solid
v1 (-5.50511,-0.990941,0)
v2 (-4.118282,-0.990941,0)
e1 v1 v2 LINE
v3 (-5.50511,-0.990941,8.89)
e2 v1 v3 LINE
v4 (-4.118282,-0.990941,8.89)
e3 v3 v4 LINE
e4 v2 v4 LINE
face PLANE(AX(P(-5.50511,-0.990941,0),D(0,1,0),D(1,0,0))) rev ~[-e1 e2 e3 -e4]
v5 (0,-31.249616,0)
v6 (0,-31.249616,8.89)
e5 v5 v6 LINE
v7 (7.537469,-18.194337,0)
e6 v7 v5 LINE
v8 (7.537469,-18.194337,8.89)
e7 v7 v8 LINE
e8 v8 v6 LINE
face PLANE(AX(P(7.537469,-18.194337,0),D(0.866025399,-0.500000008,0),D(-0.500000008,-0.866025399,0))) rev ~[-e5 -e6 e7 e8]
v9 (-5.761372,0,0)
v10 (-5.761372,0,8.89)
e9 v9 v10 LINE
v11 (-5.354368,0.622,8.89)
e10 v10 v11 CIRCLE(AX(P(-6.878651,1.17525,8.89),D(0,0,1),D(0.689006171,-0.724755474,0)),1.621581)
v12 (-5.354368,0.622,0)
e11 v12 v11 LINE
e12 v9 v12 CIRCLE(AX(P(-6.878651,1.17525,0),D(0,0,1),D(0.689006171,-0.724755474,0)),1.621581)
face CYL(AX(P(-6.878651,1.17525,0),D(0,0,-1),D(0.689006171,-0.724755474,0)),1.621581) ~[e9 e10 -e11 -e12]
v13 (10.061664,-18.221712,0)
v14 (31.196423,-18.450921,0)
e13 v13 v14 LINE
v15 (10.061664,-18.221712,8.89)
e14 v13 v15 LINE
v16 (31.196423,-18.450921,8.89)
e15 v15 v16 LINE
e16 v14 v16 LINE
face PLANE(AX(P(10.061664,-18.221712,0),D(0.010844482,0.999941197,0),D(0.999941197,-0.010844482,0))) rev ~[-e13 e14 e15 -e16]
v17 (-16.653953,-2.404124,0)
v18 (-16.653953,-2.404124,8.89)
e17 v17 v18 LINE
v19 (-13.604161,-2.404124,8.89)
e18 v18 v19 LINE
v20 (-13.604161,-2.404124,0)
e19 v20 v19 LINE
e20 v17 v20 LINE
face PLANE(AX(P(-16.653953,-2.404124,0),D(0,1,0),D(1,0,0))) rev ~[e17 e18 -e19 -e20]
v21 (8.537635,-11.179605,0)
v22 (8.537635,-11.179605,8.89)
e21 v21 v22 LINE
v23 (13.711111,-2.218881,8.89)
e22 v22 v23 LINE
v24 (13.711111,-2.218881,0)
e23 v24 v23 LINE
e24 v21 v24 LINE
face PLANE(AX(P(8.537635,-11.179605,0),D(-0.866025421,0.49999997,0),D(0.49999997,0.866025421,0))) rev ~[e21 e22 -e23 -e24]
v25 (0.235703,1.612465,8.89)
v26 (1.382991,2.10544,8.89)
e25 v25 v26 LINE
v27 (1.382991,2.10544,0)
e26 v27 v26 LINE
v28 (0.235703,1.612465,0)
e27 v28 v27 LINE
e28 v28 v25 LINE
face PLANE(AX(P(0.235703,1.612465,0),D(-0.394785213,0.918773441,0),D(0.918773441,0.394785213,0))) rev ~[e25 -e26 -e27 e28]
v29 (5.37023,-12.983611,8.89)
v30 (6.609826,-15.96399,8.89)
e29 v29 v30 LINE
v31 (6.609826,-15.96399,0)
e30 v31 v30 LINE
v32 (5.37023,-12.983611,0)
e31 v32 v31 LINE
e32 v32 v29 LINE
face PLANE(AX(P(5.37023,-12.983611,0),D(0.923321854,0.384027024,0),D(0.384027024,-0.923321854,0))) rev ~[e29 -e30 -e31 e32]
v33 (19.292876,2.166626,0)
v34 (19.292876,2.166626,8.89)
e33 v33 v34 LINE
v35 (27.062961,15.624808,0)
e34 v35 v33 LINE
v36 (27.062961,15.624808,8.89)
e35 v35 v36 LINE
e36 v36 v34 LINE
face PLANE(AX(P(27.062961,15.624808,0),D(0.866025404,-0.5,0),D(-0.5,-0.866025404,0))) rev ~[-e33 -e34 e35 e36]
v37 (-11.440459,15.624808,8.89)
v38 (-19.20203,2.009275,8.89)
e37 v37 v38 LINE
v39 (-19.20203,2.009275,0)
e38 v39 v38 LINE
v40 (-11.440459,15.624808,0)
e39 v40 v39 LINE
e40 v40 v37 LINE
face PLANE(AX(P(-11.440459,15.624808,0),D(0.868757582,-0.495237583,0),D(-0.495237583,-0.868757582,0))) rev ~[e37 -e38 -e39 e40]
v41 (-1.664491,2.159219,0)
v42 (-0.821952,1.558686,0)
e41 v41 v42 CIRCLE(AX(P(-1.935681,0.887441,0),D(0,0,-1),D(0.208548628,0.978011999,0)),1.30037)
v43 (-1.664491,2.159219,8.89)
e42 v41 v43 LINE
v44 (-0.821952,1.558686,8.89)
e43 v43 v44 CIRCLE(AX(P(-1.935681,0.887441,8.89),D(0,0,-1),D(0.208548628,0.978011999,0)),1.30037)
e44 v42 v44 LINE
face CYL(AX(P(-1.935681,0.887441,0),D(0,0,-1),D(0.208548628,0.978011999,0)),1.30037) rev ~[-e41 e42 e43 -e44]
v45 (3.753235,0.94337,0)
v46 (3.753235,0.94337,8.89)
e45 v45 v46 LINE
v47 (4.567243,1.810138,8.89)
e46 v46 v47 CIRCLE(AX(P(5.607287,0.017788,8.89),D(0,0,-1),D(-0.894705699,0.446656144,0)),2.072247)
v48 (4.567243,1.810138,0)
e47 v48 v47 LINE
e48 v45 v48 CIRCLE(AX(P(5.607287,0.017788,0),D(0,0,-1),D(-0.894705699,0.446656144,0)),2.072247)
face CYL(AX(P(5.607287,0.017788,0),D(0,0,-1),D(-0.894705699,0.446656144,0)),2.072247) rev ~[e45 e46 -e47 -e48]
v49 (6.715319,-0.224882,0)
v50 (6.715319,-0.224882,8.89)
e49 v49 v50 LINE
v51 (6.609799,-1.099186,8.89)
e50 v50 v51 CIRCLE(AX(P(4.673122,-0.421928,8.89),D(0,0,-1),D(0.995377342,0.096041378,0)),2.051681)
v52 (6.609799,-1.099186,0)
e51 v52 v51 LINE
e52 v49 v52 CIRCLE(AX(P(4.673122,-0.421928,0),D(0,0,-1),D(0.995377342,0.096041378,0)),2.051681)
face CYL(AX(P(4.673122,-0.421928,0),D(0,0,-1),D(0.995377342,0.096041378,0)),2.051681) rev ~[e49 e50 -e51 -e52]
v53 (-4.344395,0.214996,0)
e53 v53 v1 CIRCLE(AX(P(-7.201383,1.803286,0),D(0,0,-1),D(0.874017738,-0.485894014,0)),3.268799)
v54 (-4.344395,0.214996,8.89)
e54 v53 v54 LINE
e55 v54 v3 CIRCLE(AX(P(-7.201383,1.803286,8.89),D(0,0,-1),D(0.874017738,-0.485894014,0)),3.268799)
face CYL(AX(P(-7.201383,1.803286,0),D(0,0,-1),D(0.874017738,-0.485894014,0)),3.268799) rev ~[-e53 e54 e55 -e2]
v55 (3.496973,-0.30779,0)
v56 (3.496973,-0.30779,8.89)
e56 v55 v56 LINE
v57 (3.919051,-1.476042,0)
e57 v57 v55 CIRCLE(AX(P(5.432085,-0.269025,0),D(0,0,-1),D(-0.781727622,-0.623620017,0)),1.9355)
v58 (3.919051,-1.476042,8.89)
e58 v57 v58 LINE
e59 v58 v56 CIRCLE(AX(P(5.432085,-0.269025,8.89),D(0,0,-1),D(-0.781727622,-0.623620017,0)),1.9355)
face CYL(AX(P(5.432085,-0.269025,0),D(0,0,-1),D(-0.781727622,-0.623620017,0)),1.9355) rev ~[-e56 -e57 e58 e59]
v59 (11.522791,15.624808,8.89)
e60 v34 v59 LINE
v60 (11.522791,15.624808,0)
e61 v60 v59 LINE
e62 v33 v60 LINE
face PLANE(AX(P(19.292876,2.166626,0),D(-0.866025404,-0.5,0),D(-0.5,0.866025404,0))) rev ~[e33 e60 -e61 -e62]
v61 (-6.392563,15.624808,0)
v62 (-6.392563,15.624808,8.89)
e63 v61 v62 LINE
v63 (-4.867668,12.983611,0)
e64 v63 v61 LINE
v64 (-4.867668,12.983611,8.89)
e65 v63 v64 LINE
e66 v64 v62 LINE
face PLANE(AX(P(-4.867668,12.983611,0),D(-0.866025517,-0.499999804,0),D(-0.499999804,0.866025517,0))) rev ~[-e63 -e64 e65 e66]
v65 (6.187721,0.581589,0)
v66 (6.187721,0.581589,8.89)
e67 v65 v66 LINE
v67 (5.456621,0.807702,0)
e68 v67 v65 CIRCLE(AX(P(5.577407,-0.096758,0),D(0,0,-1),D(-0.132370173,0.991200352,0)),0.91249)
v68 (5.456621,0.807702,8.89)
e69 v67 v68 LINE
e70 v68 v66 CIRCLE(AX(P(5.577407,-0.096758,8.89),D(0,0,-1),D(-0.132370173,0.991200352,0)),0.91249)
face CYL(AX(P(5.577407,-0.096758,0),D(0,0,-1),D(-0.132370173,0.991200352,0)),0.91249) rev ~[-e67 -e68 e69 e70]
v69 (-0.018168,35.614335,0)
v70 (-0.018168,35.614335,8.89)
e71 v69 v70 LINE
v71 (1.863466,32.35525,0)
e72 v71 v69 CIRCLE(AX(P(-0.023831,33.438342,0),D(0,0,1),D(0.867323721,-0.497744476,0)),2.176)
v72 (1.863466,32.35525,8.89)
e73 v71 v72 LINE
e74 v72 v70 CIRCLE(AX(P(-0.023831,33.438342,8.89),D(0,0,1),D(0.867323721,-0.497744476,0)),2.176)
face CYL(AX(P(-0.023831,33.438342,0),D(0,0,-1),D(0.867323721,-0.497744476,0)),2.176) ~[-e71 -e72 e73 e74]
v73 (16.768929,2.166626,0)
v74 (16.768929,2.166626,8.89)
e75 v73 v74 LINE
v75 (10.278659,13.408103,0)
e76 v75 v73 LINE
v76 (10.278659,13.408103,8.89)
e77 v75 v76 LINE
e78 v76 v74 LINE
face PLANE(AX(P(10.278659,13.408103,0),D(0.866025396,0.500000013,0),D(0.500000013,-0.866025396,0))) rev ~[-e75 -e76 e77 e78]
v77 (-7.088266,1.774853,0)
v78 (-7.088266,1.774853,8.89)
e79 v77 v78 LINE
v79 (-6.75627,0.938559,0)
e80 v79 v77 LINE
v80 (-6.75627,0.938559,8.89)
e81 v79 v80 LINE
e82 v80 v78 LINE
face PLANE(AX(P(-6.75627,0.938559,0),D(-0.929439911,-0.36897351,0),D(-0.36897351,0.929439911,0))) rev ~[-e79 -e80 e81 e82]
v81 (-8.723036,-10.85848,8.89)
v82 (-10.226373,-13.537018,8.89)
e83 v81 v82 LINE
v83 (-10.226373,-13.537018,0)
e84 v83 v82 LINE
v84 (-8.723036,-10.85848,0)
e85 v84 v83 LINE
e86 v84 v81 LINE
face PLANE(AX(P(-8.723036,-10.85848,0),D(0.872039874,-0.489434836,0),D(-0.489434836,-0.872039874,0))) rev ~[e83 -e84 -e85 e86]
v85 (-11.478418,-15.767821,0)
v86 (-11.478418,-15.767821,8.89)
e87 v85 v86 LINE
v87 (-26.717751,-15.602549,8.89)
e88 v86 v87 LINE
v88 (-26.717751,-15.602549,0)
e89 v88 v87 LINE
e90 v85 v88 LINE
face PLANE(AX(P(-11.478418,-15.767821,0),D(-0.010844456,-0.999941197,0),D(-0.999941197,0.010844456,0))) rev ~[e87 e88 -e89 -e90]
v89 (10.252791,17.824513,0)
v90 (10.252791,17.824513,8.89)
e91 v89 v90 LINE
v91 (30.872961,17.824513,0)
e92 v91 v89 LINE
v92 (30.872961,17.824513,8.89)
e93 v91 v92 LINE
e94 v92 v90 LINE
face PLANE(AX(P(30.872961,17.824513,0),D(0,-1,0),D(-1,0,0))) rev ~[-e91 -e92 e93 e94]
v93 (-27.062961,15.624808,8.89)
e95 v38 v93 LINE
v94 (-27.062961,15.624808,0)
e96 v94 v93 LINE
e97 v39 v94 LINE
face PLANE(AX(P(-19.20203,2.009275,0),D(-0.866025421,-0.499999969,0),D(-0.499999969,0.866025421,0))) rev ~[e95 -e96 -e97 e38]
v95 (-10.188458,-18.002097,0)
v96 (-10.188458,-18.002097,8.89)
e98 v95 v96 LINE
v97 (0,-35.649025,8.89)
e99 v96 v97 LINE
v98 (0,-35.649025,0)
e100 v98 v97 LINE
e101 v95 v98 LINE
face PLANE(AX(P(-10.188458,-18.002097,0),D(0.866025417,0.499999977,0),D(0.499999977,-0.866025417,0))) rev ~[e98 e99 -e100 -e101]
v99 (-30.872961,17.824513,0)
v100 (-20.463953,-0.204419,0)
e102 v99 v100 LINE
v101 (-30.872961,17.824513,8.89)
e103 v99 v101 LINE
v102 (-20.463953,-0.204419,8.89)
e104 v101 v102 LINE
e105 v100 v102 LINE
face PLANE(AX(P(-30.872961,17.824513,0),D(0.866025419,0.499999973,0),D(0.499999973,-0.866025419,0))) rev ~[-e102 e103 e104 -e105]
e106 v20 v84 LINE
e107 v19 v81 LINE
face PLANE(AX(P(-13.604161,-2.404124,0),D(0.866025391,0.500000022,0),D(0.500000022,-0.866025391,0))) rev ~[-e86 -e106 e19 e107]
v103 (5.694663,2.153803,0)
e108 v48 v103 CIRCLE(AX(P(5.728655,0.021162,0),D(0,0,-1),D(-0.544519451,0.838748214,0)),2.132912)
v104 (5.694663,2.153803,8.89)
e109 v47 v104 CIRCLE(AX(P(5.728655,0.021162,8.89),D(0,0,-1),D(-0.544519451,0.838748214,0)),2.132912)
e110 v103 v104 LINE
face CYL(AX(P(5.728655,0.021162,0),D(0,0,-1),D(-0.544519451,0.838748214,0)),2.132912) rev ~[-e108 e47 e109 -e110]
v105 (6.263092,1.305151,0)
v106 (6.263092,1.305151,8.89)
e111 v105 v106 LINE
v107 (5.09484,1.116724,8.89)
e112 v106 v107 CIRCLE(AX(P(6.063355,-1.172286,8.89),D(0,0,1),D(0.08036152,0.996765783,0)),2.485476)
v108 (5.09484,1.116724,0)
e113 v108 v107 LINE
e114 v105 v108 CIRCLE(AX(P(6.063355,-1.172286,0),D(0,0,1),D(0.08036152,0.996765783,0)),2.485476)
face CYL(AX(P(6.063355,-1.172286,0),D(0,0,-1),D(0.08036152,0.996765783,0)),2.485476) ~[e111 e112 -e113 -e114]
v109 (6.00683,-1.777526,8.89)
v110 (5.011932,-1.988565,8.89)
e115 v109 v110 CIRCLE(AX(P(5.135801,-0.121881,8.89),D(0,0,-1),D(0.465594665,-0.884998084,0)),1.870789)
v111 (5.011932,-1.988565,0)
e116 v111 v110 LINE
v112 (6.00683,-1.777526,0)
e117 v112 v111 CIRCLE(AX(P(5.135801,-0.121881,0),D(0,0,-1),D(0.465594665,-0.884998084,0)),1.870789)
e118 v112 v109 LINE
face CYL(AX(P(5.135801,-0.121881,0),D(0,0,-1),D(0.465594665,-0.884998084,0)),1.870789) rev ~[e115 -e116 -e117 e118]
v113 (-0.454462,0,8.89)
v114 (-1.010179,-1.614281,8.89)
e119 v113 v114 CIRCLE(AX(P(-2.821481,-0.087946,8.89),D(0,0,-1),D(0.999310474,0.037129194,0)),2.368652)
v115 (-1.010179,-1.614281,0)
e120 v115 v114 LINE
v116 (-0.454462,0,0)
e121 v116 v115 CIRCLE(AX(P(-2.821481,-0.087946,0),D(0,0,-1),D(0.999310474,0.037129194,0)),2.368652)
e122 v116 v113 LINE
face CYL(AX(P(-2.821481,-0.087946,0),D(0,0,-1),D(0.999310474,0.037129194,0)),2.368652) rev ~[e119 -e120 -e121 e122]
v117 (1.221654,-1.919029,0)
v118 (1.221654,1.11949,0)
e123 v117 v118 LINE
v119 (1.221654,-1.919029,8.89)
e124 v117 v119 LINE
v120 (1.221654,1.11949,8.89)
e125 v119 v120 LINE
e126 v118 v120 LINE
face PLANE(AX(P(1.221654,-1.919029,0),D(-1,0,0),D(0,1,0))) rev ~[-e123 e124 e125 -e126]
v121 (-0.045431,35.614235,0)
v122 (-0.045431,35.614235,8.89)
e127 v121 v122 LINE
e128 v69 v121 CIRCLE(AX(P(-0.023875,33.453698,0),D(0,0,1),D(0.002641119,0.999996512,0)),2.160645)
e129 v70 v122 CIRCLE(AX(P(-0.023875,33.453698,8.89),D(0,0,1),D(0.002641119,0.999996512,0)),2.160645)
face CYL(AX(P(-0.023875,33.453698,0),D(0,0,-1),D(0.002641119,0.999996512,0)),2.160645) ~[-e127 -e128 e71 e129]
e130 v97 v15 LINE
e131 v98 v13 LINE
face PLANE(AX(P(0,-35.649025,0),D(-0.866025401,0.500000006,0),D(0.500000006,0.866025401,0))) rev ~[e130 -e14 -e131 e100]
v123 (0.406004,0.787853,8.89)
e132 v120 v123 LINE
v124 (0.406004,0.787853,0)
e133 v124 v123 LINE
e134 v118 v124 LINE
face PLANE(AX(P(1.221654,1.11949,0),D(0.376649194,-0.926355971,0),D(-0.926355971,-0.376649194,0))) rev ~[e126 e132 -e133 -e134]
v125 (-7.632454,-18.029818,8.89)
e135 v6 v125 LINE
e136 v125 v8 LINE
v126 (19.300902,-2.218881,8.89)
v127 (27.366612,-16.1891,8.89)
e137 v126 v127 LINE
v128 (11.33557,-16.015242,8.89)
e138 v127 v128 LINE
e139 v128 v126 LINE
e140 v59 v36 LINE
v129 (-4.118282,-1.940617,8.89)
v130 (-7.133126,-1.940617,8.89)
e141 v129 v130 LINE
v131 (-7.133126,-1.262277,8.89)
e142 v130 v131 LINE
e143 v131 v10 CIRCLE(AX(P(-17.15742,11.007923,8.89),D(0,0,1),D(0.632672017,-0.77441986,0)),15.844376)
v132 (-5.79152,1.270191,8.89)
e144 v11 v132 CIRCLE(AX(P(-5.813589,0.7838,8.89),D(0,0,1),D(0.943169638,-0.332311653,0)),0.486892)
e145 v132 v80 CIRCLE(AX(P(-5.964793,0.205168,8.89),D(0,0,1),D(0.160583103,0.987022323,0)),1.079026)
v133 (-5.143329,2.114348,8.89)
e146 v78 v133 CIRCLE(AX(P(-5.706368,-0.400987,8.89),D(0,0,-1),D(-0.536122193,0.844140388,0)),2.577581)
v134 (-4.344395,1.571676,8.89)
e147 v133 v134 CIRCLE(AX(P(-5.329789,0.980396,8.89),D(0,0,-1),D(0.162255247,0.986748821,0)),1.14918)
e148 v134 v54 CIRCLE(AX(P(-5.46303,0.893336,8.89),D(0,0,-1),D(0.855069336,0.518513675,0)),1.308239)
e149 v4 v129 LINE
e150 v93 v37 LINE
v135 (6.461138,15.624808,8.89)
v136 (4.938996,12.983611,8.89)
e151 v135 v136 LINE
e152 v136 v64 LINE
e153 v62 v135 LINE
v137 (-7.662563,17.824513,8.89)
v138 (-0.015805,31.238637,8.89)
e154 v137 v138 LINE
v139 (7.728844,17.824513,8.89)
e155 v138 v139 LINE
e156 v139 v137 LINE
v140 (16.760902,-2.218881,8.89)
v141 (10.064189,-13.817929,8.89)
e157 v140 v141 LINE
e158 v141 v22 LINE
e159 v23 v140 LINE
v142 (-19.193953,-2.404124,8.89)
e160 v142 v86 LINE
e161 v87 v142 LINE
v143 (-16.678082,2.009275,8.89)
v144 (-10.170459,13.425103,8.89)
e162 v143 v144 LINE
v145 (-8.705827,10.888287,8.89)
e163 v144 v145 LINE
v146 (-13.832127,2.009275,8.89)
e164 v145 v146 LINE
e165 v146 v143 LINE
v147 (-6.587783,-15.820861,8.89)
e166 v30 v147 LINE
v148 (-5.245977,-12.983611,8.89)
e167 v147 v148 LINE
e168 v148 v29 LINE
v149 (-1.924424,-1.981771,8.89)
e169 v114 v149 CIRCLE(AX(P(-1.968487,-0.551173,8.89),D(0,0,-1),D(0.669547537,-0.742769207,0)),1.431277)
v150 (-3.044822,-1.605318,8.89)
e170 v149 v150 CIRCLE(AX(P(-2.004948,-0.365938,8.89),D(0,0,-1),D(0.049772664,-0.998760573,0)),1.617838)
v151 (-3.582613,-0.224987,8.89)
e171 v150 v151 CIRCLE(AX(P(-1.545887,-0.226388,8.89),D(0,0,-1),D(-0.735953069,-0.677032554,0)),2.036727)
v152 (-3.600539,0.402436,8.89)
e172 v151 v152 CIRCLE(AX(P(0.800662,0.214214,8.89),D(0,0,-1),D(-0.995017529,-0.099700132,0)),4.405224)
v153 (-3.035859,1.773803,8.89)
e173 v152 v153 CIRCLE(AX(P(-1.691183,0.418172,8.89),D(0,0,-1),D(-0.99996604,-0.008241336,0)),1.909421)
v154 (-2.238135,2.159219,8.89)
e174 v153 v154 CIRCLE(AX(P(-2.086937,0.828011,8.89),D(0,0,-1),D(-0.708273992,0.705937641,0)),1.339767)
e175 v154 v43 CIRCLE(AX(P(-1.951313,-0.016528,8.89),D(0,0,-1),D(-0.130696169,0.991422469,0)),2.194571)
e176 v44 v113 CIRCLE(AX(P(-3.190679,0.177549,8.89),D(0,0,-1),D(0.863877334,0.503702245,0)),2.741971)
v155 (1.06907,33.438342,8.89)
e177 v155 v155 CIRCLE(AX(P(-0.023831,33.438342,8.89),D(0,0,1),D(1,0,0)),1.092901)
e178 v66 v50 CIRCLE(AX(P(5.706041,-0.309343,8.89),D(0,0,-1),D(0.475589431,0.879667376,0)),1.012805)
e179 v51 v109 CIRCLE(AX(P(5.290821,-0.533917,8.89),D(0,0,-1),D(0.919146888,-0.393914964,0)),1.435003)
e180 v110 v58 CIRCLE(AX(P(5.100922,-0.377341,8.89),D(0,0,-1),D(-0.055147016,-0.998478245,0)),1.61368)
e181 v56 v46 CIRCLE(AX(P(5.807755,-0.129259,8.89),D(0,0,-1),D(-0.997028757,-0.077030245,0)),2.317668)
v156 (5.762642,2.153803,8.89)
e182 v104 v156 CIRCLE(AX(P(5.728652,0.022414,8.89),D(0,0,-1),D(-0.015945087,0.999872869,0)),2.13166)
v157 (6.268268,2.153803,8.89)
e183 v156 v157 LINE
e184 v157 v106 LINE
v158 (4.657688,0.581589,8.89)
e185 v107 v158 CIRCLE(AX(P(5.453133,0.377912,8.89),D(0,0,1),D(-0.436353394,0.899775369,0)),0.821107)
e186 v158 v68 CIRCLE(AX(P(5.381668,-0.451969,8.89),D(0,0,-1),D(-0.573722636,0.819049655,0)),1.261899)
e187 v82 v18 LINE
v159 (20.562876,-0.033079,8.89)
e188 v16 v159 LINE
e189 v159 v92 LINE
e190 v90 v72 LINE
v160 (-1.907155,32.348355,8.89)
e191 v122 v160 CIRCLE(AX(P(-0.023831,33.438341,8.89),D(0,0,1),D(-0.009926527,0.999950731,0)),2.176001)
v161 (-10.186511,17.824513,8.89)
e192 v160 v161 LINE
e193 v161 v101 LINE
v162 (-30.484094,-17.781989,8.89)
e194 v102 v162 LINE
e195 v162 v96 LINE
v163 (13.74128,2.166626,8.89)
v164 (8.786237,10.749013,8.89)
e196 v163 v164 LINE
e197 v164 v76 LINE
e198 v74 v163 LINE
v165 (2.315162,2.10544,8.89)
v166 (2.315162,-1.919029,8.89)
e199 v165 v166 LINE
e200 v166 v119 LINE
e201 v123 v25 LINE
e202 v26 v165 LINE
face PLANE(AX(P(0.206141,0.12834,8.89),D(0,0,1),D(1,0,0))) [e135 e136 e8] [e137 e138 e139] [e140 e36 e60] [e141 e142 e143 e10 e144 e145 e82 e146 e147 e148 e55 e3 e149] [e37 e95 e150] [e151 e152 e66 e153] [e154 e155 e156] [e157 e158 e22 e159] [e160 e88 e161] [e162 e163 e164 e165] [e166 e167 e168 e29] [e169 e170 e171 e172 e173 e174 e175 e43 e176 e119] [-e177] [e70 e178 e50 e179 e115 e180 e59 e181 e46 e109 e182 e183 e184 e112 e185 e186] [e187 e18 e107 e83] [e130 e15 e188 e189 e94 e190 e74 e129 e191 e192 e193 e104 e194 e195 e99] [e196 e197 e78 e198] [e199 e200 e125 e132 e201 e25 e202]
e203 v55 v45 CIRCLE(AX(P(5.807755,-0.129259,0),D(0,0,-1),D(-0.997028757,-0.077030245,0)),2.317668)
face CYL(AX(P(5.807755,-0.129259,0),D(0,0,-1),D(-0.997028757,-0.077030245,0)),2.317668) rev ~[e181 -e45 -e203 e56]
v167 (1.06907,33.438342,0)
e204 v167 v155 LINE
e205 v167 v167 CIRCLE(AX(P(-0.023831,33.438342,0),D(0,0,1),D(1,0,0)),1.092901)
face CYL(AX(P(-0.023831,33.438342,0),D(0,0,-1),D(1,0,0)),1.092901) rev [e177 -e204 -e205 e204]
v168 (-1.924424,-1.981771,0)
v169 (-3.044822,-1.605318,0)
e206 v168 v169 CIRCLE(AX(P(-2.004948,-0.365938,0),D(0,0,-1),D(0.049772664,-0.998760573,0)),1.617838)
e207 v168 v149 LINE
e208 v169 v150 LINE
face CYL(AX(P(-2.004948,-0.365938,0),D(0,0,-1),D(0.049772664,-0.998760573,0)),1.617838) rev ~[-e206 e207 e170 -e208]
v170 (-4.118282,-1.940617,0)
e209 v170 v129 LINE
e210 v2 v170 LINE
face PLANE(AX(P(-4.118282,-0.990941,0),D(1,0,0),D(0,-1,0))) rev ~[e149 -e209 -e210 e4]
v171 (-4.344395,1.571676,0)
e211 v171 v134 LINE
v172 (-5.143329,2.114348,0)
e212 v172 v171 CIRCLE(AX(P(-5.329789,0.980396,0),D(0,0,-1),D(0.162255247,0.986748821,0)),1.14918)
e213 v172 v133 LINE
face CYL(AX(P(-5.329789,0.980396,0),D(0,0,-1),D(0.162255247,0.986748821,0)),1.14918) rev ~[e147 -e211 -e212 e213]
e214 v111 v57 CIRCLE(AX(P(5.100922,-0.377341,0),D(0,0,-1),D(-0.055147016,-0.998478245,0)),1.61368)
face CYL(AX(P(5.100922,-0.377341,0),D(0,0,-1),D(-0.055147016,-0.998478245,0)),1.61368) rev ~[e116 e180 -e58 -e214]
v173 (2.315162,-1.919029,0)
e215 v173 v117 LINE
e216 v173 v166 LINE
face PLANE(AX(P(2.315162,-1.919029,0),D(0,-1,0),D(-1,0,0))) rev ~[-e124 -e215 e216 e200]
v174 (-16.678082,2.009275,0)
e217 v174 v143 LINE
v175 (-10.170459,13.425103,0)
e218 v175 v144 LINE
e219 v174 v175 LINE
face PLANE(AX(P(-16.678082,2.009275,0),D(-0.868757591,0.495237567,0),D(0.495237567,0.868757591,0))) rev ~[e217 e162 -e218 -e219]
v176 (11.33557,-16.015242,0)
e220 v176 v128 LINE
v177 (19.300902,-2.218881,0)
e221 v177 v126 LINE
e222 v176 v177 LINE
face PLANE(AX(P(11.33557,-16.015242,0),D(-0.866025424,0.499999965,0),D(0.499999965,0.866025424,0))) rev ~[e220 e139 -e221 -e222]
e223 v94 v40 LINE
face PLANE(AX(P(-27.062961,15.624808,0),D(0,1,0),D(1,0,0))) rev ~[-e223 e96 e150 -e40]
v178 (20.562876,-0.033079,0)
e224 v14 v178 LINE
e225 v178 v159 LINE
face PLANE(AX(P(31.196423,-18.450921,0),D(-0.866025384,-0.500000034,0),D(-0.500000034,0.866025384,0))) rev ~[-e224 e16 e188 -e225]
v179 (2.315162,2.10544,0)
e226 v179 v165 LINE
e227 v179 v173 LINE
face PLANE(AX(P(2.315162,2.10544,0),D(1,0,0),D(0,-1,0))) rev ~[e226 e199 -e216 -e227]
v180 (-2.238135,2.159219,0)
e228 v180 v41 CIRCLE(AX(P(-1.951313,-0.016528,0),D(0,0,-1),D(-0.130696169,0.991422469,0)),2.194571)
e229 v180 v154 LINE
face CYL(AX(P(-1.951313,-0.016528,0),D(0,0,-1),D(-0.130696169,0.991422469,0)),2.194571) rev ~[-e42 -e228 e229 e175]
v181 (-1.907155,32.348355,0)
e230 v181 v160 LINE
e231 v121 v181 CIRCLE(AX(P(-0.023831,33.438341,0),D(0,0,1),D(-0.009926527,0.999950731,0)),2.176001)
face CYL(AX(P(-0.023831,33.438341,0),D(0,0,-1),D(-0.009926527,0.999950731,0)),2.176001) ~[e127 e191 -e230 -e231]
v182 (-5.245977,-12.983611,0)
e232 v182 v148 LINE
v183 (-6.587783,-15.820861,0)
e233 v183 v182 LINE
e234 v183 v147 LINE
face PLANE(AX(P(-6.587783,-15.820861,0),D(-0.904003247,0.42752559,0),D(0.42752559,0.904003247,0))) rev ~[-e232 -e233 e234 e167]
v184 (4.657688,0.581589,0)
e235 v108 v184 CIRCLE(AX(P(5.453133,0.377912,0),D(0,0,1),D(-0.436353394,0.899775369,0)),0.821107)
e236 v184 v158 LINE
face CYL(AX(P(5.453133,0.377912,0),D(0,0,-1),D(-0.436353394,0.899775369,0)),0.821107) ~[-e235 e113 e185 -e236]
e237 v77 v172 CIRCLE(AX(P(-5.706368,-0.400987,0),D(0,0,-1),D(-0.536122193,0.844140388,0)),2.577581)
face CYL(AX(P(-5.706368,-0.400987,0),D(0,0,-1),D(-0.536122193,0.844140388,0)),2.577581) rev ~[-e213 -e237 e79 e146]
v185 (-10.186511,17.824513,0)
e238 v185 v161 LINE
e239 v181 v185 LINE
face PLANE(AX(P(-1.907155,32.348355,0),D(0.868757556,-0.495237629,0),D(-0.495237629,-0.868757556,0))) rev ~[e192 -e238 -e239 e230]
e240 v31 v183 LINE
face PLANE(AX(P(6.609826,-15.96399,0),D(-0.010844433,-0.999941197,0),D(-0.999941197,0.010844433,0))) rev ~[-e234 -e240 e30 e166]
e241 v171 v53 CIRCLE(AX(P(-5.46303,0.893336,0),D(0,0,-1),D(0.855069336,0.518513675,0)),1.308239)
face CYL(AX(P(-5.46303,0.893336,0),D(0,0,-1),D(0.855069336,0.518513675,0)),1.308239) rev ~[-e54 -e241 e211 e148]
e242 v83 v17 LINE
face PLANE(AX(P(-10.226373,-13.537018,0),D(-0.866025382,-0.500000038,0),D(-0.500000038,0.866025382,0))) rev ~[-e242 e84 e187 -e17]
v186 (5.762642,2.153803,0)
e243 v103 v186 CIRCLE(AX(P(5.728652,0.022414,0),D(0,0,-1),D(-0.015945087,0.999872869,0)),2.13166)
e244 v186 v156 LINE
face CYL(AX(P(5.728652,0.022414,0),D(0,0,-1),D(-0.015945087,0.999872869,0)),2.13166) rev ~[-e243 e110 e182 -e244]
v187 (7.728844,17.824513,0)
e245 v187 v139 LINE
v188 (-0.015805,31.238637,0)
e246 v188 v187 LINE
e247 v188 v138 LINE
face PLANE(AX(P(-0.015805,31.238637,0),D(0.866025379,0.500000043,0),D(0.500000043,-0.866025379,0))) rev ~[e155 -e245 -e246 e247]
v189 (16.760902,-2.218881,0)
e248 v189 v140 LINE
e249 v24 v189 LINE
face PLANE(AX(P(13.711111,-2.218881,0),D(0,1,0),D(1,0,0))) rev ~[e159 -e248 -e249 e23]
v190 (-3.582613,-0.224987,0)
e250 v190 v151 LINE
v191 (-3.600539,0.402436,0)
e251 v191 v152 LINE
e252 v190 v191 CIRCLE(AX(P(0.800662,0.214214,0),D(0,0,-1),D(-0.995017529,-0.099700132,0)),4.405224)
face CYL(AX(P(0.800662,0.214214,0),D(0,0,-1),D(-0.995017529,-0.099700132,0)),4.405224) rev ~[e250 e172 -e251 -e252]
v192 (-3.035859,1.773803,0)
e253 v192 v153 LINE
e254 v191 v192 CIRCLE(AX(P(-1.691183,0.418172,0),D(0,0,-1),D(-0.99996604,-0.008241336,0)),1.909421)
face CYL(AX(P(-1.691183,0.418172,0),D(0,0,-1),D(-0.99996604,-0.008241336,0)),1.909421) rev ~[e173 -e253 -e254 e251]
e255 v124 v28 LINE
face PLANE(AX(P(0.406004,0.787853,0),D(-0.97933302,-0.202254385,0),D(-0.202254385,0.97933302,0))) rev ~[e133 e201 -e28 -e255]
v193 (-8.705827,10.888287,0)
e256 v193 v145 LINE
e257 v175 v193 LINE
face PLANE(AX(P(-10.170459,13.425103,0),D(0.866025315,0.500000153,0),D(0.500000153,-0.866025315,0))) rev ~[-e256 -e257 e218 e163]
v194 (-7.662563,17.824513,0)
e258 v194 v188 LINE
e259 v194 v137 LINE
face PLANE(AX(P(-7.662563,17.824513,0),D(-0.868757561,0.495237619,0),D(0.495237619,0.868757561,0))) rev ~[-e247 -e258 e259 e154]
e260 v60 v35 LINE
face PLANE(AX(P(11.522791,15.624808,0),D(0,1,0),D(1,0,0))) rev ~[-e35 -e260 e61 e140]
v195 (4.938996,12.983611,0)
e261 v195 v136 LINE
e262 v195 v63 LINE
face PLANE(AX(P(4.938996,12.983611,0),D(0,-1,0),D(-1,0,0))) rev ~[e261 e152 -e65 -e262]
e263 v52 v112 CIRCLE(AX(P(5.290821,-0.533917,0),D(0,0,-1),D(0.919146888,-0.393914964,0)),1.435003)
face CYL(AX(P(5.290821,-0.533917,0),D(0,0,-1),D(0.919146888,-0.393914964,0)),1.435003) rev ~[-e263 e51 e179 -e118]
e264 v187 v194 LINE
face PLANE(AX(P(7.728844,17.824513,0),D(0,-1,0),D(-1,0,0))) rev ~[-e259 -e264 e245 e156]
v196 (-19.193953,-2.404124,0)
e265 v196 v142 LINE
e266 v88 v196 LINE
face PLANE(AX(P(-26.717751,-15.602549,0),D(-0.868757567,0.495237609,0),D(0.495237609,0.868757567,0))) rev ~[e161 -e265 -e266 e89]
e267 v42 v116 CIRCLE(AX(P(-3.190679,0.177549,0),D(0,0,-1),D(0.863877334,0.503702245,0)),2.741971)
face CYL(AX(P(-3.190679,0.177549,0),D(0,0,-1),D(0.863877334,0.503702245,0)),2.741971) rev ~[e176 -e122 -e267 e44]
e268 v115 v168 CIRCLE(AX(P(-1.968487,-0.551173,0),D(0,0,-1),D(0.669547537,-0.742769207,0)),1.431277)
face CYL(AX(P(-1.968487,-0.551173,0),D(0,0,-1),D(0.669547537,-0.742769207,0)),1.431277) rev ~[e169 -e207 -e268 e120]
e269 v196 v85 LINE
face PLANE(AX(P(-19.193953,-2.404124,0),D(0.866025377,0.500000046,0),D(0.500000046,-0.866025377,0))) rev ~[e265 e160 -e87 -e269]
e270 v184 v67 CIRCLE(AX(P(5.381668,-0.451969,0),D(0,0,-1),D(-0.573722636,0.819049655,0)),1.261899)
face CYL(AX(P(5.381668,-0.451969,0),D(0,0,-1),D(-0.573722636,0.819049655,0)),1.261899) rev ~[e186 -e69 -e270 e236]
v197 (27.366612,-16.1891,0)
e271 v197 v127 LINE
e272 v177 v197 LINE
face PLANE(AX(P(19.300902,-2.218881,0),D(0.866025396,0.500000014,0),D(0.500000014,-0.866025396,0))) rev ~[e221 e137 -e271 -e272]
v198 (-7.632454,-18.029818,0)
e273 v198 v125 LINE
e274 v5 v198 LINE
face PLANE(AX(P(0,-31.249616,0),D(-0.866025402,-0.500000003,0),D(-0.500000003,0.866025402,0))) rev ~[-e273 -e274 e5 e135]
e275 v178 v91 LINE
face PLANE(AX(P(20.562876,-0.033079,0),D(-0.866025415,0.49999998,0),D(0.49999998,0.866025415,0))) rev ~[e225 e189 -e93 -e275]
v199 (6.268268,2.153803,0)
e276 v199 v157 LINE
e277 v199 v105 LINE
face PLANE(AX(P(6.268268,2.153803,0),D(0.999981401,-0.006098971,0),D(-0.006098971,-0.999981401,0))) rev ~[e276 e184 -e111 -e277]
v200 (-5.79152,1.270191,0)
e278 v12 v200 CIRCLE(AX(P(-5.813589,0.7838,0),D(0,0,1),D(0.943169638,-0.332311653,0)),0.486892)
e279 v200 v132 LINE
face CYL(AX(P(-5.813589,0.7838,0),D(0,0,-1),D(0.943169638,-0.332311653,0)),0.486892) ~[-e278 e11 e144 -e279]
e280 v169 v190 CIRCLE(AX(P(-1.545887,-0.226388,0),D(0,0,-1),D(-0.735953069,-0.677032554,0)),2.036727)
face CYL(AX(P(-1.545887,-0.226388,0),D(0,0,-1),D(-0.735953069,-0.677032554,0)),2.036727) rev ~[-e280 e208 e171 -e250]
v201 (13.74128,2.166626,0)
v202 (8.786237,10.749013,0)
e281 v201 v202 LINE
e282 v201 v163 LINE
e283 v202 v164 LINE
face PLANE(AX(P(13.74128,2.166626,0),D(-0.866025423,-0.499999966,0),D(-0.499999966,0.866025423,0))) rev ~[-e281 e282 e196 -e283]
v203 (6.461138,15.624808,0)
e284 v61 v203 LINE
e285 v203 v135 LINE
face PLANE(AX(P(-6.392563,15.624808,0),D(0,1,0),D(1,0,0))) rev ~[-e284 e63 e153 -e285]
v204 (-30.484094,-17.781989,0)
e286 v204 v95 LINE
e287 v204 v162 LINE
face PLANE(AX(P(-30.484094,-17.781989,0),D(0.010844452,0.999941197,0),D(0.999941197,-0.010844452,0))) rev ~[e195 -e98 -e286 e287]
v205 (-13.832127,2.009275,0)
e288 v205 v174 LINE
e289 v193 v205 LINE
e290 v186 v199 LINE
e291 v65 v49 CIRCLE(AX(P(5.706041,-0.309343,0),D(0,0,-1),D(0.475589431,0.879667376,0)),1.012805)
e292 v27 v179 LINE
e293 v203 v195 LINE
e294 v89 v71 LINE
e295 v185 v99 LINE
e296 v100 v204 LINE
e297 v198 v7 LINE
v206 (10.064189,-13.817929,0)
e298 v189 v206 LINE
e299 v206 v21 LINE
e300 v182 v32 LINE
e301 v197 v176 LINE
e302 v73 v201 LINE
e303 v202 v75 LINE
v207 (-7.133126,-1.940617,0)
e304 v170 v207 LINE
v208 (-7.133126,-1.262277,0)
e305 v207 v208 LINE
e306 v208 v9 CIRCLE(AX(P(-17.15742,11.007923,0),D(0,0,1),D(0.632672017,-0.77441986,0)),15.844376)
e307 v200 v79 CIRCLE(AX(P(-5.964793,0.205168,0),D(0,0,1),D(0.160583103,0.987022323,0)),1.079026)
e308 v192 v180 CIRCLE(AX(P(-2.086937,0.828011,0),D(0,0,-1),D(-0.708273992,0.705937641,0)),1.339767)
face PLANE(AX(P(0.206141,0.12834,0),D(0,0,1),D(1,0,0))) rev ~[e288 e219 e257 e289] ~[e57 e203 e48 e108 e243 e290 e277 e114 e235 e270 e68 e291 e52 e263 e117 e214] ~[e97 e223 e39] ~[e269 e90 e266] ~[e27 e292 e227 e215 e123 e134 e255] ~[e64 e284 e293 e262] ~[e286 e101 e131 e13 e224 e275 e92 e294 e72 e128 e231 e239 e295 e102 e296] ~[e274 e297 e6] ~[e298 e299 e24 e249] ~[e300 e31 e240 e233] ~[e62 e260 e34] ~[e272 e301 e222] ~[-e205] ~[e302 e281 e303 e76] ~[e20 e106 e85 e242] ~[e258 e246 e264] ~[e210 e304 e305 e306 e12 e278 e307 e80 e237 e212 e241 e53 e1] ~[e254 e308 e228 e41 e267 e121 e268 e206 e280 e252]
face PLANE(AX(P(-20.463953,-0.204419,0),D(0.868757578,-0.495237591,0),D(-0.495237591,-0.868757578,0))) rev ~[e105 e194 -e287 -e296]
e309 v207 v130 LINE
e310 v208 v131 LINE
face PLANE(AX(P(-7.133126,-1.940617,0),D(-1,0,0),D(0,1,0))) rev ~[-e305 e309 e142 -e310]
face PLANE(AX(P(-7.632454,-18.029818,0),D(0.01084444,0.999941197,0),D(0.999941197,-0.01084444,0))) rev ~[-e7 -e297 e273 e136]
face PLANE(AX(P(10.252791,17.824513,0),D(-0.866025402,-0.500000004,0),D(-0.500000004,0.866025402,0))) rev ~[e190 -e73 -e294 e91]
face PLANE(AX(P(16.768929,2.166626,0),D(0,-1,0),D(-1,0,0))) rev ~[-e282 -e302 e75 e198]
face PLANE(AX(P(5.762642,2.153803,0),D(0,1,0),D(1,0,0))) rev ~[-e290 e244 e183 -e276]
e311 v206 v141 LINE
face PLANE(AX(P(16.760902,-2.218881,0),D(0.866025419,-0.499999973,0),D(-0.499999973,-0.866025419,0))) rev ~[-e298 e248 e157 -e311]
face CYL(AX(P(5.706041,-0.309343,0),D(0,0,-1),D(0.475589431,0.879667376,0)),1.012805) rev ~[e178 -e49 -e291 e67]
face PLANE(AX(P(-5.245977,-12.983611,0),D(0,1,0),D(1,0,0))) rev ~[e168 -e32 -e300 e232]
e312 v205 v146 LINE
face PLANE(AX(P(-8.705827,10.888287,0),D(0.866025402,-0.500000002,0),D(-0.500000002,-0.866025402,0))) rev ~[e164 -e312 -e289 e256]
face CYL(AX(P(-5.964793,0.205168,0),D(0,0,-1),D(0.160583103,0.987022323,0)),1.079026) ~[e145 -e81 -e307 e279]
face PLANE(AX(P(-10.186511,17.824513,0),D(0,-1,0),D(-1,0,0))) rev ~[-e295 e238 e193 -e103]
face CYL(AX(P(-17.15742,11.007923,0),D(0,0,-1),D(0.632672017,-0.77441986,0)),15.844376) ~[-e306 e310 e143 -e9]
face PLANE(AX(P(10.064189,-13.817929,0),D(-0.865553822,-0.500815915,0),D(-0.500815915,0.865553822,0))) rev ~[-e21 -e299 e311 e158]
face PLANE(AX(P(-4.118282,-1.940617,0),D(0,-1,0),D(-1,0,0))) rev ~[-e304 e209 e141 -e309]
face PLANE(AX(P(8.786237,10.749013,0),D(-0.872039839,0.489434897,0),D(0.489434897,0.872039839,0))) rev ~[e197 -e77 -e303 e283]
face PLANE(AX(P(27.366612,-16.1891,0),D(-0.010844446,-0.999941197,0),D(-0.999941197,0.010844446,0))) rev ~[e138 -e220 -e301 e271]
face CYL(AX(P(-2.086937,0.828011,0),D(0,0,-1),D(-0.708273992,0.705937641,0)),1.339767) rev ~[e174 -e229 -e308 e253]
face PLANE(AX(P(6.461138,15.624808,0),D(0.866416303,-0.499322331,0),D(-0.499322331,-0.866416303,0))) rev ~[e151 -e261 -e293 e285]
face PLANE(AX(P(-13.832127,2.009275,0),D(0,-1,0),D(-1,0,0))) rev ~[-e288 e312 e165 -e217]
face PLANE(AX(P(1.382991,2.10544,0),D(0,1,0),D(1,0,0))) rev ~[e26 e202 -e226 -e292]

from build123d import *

# Parameters (mm, degrees)
F0_R     = 1.092901
F1_DEPTH = 8.89


with BuildPart() as f1:
    # F0 (on Top) → F1 (new body)
    with BuildSketch(Plane.XY):
        with BuildLine():
            Line((-10.186511, 17.824513), (-30.872961, 17.824513))
            Line((-30.872961, 17.824513), (-20.463953, -0.204419))
            Line((-20.463953, -0.204419), (-30.484094, -17.781989))
            Line((-30.484094, -17.781989), (-10.188458, -18.002097))
            Line((-10.188458, -18.002097), (0, -35.649025))
            Line((0, -35.649025), (10.061664, -18.221712))
            Line((10.061664, -18.221712), (31.196423, -18.450921))
            Line((31.196423, -18.450921), (20.562876, -0.033079))
            Line((20.562876, -0.033079), (30.872961, 17.824513))
            Line((30.872961, 17.824513), (10.252791, 17.824513))
            Line((10.252791, 17.824513), (1.863466, 32.35525))
            ThreePointArc((1.863466, 32.35525), (1.860641, 34.526342), (-0.018168, 35.614335))
            ThreePointArc((-0.018168, 35.614335), (-0.0318, 35.614328), (-0.045431, 35.614235))
            ThreePointArc((-0.045431, 35.614235), (-1.914248, 34.515979), (-1.907155, 32.348355))
            Line((-1.907155, 32.348355), (-10.186511, 17.824513))
        make_face()
        Polygon((-7.632454, -18.029818), (7.537469, -18.194337), (0, -31.249616), align=None, mode=Mode.SUBTRACT)
        Polygon((-11.478418, -15.767821), (-26.717751, -15.602549), (-19.193953, -2.404124), align=None, mode=Mode.SUBTRACT)
        Polygon((6.609826, -15.96399), (-6.587783, -15.820861), (-5.245977, -12.983611), (5.37023, -12.983611), align=None, mode=Mode.SUBTRACT)
        Polygon((-10.226373, -13.537018), (-16.653953, -2.404124), (-13.604161, -2.404124), (-8.723036, -10.85848), align=None, mode=Mode.SUBTRACT)
        Polygon((13.711111, -2.218881), (16.760902, -2.218881), (10.064189, -13.817929), (8.537635, -11.179605), align=None, mode=Mode.SUBTRACT)
        Polygon((11.33557, -16.015242), (19.300902, -2.218881), (27.366612, -16.1891), align=None, mode=Mode.SUBTRACT)
        Polygon((-19.20203, 2.009275), (-27.062961, 15.624808), (-11.440459, 15.624808), align=None, mode=Mode.SUBTRACT)
        Polygon((-13.832127, 2.009275), (-16.678082, 2.009275), (-10.170459, 13.425103), (-8.705827, 10.888287), align=None, mode=Mode.SUBTRACT)
        with BuildLine():
            Line((-6.75627, 0.938559), (-7.088266, 1.774853))
            ThreePointArc((-7.088266, 1.774853), (-6.149591, 2.138201), (-5.143329, 2.114348))
            ThreePointArc((-5.143329, 2.114348), (-4.684085, 1.931017), (-4.344395, 1.571676))
            ThreePointArc((-4.344395, 1.571676), (-4.154791, 0.893336), (-4.344395, 0.214996))
            ThreePointArc((-4.344395, 0.214996), (-4.846257, -0.463524), (-5.50511, -0.990941))
            Line((-5.50511, -0.990941), (-4.118282, -0.990941))
            Line((-4.118282, -0.990941), (-4.118282, -1.940617))
            Line((-4.118282, -1.940617), (-7.133126, -1.940617))
            Line((-7.133126, -1.940617), (-7.133126, -1.262277))
            ThreePointArc((-7.133126, -1.262277), (-6.428669, -0.65133), (-5.761372, 0))
            ThreePointArc((-5.761372, 0), (-5.521749, 0.287364), (-5.354368, 0.622))
            ThreePointArc((-5.354368, 0.622), (-5.409921, 1.056041), (-5.79152, 1.270191))
            ThreePointArc((-5.79152, 1.270191), (-6.315562, 1.225589), (-6.75627, 0.938559))
        make_face(mode=Mode.SUBTRACT)
        with BuildLine():
            ThreePointArc((-3.600539, 0.402436), (-3.456783, 1.145183), (-3.035859, 1.773803))
            ThreePointArc((-3.035859, 1.773803), (-2.669777, 2.034358), (-2.238135, 2.159219))
            ThreePointArc((-2.238135, 2.159219), (-1.951313, 2.178043), (-1.664491, 2.159219))
            ThreePointArc((-1.664491, 2.159219), (-1.180923, 1.946357), (-0.821952, 1.558686))
            ThreePointArc((-0.821952, 1.558686), (-0.52188, 0.80677), (-0.454462, 0))
            ThreePointArc((-0.454462, 0), (-0.581823, -0.858949), (-1.010179, -1.614281))
            ThreePointArc((-1.010179, -1.614281), (-1.43468, -1.87918), (-1.924424, -1.981771))
            ThreePointArc((-1.924424, -1.981771), (-2.520232, -1.899523), (-3.044822, -1.605318))
            ThreePointArc((-3.044822, -1.605318), (-3.443663, -0.96578), (-3.582613, -0.224987))
            ThreePointArc((-3.582613, -0.224987), (-3.602765, 0.088404), (-3.600539, 0.402436))
        make_face(mode=Mode.SUBTRACT)
        Polygon((-4.867668, 12.983611), (-6.392563, 15.624808), (6.461138, 15.624808), (4.938996, 12.983611), align=None, mode=Mode.SUBTRACT)
        Polygon((-7.662563, 17.824513), (-0.015805, 31.238637), (7.728844, 17.824513), align=None, mode=Mode.SUBTRACT)
        with Locations((-0.023831, 33.438342)):
            Circle(F0_R, mode=Mode.SUBTRACT)
        Polygon((0.406004, 0.787853), (0.235703, 1.612465), (1.382991, 2.10544), (2.315162, 2.10544), (2.315162, -1.919029), (1.221654, -1.919029), (1.221654, 1.11949), align=None, mode=Mode.SUBTRACT)
        with BuildLine():
            ThreePointArc((6.263092, 1.305151), (5.667589, 1.281478), (5.09484, 1.116724))
            ThreePointArc((5.09484, 1.116724), (4.817232, 0.89738), (4.657688, 0.581589))
            ThreePointArc((4.657688, 0.581589), (5.038025, 0.762238), (5.456621, 0.807702))
            ThreePointArc((5.456621, 0.807702), (5.84702, 0.774991), (6.187721, 0.581589))
            ThreePointArc((6.187721, 0.581589), (6.553589, 0.245128), (6.715319, -0.224882))
            ThreePointArc((6.715319, -0.224882), (6.710022, -0.667762), (6.609799, -1.099186))
            ThreePointArc((6.609799, -1.099186), (6.363355, -1.487281), (6.00683, -1.777526))
            ThreePointArc((6.00683, -1.777526), (5.523997, -1.951951), (5.011932, -1.988565))
            ThreePointArc((5.011932, -1.988565), (4.415764, -1.838341), (3.919051, -1.476042))
            ThreePointArc((3.919051, -1.476042), (3.611747, -0.926696), (3.496973, -0.30779))
            ThreePointArc((3.496973, -0.30779), (3.537223, 0.33579), (3.753235, 0.94337))
            ThreePointArc((3.753235, 0.94337), (4.096734, 1.436393), (4.567243, 1.810138))
            ThreePointArc((4.567243, 1.810138), (5.106743, 2.061392), (5.694663, 2.153803))
            ThreePointArc((5.694663, 2.153803), (5.728652, 2.154074), (5.762642, 2.153803))
            Line((5.762642, 2.153803), (6.268268, 2.153803))
            Line((6.268268, 2.153803), (6.263092, 1.305151))
        make_face(mode=Mode.SUBTRACT)
        Polygon((8.786237, 10.749013), (10.278659, 13.408103), (16.768929, 2.166626), (13.74128, 2.166626), align=None, mode=Mode.SUBTRACT)
        Polygon((11.522791, 15.624808), (27.062961, 15.624808), (19.292876, 2.166626), align=None, mode=Mode.SUBTRACT)
    extrude(amount=F1_DEPTH)


solid = f1.part
